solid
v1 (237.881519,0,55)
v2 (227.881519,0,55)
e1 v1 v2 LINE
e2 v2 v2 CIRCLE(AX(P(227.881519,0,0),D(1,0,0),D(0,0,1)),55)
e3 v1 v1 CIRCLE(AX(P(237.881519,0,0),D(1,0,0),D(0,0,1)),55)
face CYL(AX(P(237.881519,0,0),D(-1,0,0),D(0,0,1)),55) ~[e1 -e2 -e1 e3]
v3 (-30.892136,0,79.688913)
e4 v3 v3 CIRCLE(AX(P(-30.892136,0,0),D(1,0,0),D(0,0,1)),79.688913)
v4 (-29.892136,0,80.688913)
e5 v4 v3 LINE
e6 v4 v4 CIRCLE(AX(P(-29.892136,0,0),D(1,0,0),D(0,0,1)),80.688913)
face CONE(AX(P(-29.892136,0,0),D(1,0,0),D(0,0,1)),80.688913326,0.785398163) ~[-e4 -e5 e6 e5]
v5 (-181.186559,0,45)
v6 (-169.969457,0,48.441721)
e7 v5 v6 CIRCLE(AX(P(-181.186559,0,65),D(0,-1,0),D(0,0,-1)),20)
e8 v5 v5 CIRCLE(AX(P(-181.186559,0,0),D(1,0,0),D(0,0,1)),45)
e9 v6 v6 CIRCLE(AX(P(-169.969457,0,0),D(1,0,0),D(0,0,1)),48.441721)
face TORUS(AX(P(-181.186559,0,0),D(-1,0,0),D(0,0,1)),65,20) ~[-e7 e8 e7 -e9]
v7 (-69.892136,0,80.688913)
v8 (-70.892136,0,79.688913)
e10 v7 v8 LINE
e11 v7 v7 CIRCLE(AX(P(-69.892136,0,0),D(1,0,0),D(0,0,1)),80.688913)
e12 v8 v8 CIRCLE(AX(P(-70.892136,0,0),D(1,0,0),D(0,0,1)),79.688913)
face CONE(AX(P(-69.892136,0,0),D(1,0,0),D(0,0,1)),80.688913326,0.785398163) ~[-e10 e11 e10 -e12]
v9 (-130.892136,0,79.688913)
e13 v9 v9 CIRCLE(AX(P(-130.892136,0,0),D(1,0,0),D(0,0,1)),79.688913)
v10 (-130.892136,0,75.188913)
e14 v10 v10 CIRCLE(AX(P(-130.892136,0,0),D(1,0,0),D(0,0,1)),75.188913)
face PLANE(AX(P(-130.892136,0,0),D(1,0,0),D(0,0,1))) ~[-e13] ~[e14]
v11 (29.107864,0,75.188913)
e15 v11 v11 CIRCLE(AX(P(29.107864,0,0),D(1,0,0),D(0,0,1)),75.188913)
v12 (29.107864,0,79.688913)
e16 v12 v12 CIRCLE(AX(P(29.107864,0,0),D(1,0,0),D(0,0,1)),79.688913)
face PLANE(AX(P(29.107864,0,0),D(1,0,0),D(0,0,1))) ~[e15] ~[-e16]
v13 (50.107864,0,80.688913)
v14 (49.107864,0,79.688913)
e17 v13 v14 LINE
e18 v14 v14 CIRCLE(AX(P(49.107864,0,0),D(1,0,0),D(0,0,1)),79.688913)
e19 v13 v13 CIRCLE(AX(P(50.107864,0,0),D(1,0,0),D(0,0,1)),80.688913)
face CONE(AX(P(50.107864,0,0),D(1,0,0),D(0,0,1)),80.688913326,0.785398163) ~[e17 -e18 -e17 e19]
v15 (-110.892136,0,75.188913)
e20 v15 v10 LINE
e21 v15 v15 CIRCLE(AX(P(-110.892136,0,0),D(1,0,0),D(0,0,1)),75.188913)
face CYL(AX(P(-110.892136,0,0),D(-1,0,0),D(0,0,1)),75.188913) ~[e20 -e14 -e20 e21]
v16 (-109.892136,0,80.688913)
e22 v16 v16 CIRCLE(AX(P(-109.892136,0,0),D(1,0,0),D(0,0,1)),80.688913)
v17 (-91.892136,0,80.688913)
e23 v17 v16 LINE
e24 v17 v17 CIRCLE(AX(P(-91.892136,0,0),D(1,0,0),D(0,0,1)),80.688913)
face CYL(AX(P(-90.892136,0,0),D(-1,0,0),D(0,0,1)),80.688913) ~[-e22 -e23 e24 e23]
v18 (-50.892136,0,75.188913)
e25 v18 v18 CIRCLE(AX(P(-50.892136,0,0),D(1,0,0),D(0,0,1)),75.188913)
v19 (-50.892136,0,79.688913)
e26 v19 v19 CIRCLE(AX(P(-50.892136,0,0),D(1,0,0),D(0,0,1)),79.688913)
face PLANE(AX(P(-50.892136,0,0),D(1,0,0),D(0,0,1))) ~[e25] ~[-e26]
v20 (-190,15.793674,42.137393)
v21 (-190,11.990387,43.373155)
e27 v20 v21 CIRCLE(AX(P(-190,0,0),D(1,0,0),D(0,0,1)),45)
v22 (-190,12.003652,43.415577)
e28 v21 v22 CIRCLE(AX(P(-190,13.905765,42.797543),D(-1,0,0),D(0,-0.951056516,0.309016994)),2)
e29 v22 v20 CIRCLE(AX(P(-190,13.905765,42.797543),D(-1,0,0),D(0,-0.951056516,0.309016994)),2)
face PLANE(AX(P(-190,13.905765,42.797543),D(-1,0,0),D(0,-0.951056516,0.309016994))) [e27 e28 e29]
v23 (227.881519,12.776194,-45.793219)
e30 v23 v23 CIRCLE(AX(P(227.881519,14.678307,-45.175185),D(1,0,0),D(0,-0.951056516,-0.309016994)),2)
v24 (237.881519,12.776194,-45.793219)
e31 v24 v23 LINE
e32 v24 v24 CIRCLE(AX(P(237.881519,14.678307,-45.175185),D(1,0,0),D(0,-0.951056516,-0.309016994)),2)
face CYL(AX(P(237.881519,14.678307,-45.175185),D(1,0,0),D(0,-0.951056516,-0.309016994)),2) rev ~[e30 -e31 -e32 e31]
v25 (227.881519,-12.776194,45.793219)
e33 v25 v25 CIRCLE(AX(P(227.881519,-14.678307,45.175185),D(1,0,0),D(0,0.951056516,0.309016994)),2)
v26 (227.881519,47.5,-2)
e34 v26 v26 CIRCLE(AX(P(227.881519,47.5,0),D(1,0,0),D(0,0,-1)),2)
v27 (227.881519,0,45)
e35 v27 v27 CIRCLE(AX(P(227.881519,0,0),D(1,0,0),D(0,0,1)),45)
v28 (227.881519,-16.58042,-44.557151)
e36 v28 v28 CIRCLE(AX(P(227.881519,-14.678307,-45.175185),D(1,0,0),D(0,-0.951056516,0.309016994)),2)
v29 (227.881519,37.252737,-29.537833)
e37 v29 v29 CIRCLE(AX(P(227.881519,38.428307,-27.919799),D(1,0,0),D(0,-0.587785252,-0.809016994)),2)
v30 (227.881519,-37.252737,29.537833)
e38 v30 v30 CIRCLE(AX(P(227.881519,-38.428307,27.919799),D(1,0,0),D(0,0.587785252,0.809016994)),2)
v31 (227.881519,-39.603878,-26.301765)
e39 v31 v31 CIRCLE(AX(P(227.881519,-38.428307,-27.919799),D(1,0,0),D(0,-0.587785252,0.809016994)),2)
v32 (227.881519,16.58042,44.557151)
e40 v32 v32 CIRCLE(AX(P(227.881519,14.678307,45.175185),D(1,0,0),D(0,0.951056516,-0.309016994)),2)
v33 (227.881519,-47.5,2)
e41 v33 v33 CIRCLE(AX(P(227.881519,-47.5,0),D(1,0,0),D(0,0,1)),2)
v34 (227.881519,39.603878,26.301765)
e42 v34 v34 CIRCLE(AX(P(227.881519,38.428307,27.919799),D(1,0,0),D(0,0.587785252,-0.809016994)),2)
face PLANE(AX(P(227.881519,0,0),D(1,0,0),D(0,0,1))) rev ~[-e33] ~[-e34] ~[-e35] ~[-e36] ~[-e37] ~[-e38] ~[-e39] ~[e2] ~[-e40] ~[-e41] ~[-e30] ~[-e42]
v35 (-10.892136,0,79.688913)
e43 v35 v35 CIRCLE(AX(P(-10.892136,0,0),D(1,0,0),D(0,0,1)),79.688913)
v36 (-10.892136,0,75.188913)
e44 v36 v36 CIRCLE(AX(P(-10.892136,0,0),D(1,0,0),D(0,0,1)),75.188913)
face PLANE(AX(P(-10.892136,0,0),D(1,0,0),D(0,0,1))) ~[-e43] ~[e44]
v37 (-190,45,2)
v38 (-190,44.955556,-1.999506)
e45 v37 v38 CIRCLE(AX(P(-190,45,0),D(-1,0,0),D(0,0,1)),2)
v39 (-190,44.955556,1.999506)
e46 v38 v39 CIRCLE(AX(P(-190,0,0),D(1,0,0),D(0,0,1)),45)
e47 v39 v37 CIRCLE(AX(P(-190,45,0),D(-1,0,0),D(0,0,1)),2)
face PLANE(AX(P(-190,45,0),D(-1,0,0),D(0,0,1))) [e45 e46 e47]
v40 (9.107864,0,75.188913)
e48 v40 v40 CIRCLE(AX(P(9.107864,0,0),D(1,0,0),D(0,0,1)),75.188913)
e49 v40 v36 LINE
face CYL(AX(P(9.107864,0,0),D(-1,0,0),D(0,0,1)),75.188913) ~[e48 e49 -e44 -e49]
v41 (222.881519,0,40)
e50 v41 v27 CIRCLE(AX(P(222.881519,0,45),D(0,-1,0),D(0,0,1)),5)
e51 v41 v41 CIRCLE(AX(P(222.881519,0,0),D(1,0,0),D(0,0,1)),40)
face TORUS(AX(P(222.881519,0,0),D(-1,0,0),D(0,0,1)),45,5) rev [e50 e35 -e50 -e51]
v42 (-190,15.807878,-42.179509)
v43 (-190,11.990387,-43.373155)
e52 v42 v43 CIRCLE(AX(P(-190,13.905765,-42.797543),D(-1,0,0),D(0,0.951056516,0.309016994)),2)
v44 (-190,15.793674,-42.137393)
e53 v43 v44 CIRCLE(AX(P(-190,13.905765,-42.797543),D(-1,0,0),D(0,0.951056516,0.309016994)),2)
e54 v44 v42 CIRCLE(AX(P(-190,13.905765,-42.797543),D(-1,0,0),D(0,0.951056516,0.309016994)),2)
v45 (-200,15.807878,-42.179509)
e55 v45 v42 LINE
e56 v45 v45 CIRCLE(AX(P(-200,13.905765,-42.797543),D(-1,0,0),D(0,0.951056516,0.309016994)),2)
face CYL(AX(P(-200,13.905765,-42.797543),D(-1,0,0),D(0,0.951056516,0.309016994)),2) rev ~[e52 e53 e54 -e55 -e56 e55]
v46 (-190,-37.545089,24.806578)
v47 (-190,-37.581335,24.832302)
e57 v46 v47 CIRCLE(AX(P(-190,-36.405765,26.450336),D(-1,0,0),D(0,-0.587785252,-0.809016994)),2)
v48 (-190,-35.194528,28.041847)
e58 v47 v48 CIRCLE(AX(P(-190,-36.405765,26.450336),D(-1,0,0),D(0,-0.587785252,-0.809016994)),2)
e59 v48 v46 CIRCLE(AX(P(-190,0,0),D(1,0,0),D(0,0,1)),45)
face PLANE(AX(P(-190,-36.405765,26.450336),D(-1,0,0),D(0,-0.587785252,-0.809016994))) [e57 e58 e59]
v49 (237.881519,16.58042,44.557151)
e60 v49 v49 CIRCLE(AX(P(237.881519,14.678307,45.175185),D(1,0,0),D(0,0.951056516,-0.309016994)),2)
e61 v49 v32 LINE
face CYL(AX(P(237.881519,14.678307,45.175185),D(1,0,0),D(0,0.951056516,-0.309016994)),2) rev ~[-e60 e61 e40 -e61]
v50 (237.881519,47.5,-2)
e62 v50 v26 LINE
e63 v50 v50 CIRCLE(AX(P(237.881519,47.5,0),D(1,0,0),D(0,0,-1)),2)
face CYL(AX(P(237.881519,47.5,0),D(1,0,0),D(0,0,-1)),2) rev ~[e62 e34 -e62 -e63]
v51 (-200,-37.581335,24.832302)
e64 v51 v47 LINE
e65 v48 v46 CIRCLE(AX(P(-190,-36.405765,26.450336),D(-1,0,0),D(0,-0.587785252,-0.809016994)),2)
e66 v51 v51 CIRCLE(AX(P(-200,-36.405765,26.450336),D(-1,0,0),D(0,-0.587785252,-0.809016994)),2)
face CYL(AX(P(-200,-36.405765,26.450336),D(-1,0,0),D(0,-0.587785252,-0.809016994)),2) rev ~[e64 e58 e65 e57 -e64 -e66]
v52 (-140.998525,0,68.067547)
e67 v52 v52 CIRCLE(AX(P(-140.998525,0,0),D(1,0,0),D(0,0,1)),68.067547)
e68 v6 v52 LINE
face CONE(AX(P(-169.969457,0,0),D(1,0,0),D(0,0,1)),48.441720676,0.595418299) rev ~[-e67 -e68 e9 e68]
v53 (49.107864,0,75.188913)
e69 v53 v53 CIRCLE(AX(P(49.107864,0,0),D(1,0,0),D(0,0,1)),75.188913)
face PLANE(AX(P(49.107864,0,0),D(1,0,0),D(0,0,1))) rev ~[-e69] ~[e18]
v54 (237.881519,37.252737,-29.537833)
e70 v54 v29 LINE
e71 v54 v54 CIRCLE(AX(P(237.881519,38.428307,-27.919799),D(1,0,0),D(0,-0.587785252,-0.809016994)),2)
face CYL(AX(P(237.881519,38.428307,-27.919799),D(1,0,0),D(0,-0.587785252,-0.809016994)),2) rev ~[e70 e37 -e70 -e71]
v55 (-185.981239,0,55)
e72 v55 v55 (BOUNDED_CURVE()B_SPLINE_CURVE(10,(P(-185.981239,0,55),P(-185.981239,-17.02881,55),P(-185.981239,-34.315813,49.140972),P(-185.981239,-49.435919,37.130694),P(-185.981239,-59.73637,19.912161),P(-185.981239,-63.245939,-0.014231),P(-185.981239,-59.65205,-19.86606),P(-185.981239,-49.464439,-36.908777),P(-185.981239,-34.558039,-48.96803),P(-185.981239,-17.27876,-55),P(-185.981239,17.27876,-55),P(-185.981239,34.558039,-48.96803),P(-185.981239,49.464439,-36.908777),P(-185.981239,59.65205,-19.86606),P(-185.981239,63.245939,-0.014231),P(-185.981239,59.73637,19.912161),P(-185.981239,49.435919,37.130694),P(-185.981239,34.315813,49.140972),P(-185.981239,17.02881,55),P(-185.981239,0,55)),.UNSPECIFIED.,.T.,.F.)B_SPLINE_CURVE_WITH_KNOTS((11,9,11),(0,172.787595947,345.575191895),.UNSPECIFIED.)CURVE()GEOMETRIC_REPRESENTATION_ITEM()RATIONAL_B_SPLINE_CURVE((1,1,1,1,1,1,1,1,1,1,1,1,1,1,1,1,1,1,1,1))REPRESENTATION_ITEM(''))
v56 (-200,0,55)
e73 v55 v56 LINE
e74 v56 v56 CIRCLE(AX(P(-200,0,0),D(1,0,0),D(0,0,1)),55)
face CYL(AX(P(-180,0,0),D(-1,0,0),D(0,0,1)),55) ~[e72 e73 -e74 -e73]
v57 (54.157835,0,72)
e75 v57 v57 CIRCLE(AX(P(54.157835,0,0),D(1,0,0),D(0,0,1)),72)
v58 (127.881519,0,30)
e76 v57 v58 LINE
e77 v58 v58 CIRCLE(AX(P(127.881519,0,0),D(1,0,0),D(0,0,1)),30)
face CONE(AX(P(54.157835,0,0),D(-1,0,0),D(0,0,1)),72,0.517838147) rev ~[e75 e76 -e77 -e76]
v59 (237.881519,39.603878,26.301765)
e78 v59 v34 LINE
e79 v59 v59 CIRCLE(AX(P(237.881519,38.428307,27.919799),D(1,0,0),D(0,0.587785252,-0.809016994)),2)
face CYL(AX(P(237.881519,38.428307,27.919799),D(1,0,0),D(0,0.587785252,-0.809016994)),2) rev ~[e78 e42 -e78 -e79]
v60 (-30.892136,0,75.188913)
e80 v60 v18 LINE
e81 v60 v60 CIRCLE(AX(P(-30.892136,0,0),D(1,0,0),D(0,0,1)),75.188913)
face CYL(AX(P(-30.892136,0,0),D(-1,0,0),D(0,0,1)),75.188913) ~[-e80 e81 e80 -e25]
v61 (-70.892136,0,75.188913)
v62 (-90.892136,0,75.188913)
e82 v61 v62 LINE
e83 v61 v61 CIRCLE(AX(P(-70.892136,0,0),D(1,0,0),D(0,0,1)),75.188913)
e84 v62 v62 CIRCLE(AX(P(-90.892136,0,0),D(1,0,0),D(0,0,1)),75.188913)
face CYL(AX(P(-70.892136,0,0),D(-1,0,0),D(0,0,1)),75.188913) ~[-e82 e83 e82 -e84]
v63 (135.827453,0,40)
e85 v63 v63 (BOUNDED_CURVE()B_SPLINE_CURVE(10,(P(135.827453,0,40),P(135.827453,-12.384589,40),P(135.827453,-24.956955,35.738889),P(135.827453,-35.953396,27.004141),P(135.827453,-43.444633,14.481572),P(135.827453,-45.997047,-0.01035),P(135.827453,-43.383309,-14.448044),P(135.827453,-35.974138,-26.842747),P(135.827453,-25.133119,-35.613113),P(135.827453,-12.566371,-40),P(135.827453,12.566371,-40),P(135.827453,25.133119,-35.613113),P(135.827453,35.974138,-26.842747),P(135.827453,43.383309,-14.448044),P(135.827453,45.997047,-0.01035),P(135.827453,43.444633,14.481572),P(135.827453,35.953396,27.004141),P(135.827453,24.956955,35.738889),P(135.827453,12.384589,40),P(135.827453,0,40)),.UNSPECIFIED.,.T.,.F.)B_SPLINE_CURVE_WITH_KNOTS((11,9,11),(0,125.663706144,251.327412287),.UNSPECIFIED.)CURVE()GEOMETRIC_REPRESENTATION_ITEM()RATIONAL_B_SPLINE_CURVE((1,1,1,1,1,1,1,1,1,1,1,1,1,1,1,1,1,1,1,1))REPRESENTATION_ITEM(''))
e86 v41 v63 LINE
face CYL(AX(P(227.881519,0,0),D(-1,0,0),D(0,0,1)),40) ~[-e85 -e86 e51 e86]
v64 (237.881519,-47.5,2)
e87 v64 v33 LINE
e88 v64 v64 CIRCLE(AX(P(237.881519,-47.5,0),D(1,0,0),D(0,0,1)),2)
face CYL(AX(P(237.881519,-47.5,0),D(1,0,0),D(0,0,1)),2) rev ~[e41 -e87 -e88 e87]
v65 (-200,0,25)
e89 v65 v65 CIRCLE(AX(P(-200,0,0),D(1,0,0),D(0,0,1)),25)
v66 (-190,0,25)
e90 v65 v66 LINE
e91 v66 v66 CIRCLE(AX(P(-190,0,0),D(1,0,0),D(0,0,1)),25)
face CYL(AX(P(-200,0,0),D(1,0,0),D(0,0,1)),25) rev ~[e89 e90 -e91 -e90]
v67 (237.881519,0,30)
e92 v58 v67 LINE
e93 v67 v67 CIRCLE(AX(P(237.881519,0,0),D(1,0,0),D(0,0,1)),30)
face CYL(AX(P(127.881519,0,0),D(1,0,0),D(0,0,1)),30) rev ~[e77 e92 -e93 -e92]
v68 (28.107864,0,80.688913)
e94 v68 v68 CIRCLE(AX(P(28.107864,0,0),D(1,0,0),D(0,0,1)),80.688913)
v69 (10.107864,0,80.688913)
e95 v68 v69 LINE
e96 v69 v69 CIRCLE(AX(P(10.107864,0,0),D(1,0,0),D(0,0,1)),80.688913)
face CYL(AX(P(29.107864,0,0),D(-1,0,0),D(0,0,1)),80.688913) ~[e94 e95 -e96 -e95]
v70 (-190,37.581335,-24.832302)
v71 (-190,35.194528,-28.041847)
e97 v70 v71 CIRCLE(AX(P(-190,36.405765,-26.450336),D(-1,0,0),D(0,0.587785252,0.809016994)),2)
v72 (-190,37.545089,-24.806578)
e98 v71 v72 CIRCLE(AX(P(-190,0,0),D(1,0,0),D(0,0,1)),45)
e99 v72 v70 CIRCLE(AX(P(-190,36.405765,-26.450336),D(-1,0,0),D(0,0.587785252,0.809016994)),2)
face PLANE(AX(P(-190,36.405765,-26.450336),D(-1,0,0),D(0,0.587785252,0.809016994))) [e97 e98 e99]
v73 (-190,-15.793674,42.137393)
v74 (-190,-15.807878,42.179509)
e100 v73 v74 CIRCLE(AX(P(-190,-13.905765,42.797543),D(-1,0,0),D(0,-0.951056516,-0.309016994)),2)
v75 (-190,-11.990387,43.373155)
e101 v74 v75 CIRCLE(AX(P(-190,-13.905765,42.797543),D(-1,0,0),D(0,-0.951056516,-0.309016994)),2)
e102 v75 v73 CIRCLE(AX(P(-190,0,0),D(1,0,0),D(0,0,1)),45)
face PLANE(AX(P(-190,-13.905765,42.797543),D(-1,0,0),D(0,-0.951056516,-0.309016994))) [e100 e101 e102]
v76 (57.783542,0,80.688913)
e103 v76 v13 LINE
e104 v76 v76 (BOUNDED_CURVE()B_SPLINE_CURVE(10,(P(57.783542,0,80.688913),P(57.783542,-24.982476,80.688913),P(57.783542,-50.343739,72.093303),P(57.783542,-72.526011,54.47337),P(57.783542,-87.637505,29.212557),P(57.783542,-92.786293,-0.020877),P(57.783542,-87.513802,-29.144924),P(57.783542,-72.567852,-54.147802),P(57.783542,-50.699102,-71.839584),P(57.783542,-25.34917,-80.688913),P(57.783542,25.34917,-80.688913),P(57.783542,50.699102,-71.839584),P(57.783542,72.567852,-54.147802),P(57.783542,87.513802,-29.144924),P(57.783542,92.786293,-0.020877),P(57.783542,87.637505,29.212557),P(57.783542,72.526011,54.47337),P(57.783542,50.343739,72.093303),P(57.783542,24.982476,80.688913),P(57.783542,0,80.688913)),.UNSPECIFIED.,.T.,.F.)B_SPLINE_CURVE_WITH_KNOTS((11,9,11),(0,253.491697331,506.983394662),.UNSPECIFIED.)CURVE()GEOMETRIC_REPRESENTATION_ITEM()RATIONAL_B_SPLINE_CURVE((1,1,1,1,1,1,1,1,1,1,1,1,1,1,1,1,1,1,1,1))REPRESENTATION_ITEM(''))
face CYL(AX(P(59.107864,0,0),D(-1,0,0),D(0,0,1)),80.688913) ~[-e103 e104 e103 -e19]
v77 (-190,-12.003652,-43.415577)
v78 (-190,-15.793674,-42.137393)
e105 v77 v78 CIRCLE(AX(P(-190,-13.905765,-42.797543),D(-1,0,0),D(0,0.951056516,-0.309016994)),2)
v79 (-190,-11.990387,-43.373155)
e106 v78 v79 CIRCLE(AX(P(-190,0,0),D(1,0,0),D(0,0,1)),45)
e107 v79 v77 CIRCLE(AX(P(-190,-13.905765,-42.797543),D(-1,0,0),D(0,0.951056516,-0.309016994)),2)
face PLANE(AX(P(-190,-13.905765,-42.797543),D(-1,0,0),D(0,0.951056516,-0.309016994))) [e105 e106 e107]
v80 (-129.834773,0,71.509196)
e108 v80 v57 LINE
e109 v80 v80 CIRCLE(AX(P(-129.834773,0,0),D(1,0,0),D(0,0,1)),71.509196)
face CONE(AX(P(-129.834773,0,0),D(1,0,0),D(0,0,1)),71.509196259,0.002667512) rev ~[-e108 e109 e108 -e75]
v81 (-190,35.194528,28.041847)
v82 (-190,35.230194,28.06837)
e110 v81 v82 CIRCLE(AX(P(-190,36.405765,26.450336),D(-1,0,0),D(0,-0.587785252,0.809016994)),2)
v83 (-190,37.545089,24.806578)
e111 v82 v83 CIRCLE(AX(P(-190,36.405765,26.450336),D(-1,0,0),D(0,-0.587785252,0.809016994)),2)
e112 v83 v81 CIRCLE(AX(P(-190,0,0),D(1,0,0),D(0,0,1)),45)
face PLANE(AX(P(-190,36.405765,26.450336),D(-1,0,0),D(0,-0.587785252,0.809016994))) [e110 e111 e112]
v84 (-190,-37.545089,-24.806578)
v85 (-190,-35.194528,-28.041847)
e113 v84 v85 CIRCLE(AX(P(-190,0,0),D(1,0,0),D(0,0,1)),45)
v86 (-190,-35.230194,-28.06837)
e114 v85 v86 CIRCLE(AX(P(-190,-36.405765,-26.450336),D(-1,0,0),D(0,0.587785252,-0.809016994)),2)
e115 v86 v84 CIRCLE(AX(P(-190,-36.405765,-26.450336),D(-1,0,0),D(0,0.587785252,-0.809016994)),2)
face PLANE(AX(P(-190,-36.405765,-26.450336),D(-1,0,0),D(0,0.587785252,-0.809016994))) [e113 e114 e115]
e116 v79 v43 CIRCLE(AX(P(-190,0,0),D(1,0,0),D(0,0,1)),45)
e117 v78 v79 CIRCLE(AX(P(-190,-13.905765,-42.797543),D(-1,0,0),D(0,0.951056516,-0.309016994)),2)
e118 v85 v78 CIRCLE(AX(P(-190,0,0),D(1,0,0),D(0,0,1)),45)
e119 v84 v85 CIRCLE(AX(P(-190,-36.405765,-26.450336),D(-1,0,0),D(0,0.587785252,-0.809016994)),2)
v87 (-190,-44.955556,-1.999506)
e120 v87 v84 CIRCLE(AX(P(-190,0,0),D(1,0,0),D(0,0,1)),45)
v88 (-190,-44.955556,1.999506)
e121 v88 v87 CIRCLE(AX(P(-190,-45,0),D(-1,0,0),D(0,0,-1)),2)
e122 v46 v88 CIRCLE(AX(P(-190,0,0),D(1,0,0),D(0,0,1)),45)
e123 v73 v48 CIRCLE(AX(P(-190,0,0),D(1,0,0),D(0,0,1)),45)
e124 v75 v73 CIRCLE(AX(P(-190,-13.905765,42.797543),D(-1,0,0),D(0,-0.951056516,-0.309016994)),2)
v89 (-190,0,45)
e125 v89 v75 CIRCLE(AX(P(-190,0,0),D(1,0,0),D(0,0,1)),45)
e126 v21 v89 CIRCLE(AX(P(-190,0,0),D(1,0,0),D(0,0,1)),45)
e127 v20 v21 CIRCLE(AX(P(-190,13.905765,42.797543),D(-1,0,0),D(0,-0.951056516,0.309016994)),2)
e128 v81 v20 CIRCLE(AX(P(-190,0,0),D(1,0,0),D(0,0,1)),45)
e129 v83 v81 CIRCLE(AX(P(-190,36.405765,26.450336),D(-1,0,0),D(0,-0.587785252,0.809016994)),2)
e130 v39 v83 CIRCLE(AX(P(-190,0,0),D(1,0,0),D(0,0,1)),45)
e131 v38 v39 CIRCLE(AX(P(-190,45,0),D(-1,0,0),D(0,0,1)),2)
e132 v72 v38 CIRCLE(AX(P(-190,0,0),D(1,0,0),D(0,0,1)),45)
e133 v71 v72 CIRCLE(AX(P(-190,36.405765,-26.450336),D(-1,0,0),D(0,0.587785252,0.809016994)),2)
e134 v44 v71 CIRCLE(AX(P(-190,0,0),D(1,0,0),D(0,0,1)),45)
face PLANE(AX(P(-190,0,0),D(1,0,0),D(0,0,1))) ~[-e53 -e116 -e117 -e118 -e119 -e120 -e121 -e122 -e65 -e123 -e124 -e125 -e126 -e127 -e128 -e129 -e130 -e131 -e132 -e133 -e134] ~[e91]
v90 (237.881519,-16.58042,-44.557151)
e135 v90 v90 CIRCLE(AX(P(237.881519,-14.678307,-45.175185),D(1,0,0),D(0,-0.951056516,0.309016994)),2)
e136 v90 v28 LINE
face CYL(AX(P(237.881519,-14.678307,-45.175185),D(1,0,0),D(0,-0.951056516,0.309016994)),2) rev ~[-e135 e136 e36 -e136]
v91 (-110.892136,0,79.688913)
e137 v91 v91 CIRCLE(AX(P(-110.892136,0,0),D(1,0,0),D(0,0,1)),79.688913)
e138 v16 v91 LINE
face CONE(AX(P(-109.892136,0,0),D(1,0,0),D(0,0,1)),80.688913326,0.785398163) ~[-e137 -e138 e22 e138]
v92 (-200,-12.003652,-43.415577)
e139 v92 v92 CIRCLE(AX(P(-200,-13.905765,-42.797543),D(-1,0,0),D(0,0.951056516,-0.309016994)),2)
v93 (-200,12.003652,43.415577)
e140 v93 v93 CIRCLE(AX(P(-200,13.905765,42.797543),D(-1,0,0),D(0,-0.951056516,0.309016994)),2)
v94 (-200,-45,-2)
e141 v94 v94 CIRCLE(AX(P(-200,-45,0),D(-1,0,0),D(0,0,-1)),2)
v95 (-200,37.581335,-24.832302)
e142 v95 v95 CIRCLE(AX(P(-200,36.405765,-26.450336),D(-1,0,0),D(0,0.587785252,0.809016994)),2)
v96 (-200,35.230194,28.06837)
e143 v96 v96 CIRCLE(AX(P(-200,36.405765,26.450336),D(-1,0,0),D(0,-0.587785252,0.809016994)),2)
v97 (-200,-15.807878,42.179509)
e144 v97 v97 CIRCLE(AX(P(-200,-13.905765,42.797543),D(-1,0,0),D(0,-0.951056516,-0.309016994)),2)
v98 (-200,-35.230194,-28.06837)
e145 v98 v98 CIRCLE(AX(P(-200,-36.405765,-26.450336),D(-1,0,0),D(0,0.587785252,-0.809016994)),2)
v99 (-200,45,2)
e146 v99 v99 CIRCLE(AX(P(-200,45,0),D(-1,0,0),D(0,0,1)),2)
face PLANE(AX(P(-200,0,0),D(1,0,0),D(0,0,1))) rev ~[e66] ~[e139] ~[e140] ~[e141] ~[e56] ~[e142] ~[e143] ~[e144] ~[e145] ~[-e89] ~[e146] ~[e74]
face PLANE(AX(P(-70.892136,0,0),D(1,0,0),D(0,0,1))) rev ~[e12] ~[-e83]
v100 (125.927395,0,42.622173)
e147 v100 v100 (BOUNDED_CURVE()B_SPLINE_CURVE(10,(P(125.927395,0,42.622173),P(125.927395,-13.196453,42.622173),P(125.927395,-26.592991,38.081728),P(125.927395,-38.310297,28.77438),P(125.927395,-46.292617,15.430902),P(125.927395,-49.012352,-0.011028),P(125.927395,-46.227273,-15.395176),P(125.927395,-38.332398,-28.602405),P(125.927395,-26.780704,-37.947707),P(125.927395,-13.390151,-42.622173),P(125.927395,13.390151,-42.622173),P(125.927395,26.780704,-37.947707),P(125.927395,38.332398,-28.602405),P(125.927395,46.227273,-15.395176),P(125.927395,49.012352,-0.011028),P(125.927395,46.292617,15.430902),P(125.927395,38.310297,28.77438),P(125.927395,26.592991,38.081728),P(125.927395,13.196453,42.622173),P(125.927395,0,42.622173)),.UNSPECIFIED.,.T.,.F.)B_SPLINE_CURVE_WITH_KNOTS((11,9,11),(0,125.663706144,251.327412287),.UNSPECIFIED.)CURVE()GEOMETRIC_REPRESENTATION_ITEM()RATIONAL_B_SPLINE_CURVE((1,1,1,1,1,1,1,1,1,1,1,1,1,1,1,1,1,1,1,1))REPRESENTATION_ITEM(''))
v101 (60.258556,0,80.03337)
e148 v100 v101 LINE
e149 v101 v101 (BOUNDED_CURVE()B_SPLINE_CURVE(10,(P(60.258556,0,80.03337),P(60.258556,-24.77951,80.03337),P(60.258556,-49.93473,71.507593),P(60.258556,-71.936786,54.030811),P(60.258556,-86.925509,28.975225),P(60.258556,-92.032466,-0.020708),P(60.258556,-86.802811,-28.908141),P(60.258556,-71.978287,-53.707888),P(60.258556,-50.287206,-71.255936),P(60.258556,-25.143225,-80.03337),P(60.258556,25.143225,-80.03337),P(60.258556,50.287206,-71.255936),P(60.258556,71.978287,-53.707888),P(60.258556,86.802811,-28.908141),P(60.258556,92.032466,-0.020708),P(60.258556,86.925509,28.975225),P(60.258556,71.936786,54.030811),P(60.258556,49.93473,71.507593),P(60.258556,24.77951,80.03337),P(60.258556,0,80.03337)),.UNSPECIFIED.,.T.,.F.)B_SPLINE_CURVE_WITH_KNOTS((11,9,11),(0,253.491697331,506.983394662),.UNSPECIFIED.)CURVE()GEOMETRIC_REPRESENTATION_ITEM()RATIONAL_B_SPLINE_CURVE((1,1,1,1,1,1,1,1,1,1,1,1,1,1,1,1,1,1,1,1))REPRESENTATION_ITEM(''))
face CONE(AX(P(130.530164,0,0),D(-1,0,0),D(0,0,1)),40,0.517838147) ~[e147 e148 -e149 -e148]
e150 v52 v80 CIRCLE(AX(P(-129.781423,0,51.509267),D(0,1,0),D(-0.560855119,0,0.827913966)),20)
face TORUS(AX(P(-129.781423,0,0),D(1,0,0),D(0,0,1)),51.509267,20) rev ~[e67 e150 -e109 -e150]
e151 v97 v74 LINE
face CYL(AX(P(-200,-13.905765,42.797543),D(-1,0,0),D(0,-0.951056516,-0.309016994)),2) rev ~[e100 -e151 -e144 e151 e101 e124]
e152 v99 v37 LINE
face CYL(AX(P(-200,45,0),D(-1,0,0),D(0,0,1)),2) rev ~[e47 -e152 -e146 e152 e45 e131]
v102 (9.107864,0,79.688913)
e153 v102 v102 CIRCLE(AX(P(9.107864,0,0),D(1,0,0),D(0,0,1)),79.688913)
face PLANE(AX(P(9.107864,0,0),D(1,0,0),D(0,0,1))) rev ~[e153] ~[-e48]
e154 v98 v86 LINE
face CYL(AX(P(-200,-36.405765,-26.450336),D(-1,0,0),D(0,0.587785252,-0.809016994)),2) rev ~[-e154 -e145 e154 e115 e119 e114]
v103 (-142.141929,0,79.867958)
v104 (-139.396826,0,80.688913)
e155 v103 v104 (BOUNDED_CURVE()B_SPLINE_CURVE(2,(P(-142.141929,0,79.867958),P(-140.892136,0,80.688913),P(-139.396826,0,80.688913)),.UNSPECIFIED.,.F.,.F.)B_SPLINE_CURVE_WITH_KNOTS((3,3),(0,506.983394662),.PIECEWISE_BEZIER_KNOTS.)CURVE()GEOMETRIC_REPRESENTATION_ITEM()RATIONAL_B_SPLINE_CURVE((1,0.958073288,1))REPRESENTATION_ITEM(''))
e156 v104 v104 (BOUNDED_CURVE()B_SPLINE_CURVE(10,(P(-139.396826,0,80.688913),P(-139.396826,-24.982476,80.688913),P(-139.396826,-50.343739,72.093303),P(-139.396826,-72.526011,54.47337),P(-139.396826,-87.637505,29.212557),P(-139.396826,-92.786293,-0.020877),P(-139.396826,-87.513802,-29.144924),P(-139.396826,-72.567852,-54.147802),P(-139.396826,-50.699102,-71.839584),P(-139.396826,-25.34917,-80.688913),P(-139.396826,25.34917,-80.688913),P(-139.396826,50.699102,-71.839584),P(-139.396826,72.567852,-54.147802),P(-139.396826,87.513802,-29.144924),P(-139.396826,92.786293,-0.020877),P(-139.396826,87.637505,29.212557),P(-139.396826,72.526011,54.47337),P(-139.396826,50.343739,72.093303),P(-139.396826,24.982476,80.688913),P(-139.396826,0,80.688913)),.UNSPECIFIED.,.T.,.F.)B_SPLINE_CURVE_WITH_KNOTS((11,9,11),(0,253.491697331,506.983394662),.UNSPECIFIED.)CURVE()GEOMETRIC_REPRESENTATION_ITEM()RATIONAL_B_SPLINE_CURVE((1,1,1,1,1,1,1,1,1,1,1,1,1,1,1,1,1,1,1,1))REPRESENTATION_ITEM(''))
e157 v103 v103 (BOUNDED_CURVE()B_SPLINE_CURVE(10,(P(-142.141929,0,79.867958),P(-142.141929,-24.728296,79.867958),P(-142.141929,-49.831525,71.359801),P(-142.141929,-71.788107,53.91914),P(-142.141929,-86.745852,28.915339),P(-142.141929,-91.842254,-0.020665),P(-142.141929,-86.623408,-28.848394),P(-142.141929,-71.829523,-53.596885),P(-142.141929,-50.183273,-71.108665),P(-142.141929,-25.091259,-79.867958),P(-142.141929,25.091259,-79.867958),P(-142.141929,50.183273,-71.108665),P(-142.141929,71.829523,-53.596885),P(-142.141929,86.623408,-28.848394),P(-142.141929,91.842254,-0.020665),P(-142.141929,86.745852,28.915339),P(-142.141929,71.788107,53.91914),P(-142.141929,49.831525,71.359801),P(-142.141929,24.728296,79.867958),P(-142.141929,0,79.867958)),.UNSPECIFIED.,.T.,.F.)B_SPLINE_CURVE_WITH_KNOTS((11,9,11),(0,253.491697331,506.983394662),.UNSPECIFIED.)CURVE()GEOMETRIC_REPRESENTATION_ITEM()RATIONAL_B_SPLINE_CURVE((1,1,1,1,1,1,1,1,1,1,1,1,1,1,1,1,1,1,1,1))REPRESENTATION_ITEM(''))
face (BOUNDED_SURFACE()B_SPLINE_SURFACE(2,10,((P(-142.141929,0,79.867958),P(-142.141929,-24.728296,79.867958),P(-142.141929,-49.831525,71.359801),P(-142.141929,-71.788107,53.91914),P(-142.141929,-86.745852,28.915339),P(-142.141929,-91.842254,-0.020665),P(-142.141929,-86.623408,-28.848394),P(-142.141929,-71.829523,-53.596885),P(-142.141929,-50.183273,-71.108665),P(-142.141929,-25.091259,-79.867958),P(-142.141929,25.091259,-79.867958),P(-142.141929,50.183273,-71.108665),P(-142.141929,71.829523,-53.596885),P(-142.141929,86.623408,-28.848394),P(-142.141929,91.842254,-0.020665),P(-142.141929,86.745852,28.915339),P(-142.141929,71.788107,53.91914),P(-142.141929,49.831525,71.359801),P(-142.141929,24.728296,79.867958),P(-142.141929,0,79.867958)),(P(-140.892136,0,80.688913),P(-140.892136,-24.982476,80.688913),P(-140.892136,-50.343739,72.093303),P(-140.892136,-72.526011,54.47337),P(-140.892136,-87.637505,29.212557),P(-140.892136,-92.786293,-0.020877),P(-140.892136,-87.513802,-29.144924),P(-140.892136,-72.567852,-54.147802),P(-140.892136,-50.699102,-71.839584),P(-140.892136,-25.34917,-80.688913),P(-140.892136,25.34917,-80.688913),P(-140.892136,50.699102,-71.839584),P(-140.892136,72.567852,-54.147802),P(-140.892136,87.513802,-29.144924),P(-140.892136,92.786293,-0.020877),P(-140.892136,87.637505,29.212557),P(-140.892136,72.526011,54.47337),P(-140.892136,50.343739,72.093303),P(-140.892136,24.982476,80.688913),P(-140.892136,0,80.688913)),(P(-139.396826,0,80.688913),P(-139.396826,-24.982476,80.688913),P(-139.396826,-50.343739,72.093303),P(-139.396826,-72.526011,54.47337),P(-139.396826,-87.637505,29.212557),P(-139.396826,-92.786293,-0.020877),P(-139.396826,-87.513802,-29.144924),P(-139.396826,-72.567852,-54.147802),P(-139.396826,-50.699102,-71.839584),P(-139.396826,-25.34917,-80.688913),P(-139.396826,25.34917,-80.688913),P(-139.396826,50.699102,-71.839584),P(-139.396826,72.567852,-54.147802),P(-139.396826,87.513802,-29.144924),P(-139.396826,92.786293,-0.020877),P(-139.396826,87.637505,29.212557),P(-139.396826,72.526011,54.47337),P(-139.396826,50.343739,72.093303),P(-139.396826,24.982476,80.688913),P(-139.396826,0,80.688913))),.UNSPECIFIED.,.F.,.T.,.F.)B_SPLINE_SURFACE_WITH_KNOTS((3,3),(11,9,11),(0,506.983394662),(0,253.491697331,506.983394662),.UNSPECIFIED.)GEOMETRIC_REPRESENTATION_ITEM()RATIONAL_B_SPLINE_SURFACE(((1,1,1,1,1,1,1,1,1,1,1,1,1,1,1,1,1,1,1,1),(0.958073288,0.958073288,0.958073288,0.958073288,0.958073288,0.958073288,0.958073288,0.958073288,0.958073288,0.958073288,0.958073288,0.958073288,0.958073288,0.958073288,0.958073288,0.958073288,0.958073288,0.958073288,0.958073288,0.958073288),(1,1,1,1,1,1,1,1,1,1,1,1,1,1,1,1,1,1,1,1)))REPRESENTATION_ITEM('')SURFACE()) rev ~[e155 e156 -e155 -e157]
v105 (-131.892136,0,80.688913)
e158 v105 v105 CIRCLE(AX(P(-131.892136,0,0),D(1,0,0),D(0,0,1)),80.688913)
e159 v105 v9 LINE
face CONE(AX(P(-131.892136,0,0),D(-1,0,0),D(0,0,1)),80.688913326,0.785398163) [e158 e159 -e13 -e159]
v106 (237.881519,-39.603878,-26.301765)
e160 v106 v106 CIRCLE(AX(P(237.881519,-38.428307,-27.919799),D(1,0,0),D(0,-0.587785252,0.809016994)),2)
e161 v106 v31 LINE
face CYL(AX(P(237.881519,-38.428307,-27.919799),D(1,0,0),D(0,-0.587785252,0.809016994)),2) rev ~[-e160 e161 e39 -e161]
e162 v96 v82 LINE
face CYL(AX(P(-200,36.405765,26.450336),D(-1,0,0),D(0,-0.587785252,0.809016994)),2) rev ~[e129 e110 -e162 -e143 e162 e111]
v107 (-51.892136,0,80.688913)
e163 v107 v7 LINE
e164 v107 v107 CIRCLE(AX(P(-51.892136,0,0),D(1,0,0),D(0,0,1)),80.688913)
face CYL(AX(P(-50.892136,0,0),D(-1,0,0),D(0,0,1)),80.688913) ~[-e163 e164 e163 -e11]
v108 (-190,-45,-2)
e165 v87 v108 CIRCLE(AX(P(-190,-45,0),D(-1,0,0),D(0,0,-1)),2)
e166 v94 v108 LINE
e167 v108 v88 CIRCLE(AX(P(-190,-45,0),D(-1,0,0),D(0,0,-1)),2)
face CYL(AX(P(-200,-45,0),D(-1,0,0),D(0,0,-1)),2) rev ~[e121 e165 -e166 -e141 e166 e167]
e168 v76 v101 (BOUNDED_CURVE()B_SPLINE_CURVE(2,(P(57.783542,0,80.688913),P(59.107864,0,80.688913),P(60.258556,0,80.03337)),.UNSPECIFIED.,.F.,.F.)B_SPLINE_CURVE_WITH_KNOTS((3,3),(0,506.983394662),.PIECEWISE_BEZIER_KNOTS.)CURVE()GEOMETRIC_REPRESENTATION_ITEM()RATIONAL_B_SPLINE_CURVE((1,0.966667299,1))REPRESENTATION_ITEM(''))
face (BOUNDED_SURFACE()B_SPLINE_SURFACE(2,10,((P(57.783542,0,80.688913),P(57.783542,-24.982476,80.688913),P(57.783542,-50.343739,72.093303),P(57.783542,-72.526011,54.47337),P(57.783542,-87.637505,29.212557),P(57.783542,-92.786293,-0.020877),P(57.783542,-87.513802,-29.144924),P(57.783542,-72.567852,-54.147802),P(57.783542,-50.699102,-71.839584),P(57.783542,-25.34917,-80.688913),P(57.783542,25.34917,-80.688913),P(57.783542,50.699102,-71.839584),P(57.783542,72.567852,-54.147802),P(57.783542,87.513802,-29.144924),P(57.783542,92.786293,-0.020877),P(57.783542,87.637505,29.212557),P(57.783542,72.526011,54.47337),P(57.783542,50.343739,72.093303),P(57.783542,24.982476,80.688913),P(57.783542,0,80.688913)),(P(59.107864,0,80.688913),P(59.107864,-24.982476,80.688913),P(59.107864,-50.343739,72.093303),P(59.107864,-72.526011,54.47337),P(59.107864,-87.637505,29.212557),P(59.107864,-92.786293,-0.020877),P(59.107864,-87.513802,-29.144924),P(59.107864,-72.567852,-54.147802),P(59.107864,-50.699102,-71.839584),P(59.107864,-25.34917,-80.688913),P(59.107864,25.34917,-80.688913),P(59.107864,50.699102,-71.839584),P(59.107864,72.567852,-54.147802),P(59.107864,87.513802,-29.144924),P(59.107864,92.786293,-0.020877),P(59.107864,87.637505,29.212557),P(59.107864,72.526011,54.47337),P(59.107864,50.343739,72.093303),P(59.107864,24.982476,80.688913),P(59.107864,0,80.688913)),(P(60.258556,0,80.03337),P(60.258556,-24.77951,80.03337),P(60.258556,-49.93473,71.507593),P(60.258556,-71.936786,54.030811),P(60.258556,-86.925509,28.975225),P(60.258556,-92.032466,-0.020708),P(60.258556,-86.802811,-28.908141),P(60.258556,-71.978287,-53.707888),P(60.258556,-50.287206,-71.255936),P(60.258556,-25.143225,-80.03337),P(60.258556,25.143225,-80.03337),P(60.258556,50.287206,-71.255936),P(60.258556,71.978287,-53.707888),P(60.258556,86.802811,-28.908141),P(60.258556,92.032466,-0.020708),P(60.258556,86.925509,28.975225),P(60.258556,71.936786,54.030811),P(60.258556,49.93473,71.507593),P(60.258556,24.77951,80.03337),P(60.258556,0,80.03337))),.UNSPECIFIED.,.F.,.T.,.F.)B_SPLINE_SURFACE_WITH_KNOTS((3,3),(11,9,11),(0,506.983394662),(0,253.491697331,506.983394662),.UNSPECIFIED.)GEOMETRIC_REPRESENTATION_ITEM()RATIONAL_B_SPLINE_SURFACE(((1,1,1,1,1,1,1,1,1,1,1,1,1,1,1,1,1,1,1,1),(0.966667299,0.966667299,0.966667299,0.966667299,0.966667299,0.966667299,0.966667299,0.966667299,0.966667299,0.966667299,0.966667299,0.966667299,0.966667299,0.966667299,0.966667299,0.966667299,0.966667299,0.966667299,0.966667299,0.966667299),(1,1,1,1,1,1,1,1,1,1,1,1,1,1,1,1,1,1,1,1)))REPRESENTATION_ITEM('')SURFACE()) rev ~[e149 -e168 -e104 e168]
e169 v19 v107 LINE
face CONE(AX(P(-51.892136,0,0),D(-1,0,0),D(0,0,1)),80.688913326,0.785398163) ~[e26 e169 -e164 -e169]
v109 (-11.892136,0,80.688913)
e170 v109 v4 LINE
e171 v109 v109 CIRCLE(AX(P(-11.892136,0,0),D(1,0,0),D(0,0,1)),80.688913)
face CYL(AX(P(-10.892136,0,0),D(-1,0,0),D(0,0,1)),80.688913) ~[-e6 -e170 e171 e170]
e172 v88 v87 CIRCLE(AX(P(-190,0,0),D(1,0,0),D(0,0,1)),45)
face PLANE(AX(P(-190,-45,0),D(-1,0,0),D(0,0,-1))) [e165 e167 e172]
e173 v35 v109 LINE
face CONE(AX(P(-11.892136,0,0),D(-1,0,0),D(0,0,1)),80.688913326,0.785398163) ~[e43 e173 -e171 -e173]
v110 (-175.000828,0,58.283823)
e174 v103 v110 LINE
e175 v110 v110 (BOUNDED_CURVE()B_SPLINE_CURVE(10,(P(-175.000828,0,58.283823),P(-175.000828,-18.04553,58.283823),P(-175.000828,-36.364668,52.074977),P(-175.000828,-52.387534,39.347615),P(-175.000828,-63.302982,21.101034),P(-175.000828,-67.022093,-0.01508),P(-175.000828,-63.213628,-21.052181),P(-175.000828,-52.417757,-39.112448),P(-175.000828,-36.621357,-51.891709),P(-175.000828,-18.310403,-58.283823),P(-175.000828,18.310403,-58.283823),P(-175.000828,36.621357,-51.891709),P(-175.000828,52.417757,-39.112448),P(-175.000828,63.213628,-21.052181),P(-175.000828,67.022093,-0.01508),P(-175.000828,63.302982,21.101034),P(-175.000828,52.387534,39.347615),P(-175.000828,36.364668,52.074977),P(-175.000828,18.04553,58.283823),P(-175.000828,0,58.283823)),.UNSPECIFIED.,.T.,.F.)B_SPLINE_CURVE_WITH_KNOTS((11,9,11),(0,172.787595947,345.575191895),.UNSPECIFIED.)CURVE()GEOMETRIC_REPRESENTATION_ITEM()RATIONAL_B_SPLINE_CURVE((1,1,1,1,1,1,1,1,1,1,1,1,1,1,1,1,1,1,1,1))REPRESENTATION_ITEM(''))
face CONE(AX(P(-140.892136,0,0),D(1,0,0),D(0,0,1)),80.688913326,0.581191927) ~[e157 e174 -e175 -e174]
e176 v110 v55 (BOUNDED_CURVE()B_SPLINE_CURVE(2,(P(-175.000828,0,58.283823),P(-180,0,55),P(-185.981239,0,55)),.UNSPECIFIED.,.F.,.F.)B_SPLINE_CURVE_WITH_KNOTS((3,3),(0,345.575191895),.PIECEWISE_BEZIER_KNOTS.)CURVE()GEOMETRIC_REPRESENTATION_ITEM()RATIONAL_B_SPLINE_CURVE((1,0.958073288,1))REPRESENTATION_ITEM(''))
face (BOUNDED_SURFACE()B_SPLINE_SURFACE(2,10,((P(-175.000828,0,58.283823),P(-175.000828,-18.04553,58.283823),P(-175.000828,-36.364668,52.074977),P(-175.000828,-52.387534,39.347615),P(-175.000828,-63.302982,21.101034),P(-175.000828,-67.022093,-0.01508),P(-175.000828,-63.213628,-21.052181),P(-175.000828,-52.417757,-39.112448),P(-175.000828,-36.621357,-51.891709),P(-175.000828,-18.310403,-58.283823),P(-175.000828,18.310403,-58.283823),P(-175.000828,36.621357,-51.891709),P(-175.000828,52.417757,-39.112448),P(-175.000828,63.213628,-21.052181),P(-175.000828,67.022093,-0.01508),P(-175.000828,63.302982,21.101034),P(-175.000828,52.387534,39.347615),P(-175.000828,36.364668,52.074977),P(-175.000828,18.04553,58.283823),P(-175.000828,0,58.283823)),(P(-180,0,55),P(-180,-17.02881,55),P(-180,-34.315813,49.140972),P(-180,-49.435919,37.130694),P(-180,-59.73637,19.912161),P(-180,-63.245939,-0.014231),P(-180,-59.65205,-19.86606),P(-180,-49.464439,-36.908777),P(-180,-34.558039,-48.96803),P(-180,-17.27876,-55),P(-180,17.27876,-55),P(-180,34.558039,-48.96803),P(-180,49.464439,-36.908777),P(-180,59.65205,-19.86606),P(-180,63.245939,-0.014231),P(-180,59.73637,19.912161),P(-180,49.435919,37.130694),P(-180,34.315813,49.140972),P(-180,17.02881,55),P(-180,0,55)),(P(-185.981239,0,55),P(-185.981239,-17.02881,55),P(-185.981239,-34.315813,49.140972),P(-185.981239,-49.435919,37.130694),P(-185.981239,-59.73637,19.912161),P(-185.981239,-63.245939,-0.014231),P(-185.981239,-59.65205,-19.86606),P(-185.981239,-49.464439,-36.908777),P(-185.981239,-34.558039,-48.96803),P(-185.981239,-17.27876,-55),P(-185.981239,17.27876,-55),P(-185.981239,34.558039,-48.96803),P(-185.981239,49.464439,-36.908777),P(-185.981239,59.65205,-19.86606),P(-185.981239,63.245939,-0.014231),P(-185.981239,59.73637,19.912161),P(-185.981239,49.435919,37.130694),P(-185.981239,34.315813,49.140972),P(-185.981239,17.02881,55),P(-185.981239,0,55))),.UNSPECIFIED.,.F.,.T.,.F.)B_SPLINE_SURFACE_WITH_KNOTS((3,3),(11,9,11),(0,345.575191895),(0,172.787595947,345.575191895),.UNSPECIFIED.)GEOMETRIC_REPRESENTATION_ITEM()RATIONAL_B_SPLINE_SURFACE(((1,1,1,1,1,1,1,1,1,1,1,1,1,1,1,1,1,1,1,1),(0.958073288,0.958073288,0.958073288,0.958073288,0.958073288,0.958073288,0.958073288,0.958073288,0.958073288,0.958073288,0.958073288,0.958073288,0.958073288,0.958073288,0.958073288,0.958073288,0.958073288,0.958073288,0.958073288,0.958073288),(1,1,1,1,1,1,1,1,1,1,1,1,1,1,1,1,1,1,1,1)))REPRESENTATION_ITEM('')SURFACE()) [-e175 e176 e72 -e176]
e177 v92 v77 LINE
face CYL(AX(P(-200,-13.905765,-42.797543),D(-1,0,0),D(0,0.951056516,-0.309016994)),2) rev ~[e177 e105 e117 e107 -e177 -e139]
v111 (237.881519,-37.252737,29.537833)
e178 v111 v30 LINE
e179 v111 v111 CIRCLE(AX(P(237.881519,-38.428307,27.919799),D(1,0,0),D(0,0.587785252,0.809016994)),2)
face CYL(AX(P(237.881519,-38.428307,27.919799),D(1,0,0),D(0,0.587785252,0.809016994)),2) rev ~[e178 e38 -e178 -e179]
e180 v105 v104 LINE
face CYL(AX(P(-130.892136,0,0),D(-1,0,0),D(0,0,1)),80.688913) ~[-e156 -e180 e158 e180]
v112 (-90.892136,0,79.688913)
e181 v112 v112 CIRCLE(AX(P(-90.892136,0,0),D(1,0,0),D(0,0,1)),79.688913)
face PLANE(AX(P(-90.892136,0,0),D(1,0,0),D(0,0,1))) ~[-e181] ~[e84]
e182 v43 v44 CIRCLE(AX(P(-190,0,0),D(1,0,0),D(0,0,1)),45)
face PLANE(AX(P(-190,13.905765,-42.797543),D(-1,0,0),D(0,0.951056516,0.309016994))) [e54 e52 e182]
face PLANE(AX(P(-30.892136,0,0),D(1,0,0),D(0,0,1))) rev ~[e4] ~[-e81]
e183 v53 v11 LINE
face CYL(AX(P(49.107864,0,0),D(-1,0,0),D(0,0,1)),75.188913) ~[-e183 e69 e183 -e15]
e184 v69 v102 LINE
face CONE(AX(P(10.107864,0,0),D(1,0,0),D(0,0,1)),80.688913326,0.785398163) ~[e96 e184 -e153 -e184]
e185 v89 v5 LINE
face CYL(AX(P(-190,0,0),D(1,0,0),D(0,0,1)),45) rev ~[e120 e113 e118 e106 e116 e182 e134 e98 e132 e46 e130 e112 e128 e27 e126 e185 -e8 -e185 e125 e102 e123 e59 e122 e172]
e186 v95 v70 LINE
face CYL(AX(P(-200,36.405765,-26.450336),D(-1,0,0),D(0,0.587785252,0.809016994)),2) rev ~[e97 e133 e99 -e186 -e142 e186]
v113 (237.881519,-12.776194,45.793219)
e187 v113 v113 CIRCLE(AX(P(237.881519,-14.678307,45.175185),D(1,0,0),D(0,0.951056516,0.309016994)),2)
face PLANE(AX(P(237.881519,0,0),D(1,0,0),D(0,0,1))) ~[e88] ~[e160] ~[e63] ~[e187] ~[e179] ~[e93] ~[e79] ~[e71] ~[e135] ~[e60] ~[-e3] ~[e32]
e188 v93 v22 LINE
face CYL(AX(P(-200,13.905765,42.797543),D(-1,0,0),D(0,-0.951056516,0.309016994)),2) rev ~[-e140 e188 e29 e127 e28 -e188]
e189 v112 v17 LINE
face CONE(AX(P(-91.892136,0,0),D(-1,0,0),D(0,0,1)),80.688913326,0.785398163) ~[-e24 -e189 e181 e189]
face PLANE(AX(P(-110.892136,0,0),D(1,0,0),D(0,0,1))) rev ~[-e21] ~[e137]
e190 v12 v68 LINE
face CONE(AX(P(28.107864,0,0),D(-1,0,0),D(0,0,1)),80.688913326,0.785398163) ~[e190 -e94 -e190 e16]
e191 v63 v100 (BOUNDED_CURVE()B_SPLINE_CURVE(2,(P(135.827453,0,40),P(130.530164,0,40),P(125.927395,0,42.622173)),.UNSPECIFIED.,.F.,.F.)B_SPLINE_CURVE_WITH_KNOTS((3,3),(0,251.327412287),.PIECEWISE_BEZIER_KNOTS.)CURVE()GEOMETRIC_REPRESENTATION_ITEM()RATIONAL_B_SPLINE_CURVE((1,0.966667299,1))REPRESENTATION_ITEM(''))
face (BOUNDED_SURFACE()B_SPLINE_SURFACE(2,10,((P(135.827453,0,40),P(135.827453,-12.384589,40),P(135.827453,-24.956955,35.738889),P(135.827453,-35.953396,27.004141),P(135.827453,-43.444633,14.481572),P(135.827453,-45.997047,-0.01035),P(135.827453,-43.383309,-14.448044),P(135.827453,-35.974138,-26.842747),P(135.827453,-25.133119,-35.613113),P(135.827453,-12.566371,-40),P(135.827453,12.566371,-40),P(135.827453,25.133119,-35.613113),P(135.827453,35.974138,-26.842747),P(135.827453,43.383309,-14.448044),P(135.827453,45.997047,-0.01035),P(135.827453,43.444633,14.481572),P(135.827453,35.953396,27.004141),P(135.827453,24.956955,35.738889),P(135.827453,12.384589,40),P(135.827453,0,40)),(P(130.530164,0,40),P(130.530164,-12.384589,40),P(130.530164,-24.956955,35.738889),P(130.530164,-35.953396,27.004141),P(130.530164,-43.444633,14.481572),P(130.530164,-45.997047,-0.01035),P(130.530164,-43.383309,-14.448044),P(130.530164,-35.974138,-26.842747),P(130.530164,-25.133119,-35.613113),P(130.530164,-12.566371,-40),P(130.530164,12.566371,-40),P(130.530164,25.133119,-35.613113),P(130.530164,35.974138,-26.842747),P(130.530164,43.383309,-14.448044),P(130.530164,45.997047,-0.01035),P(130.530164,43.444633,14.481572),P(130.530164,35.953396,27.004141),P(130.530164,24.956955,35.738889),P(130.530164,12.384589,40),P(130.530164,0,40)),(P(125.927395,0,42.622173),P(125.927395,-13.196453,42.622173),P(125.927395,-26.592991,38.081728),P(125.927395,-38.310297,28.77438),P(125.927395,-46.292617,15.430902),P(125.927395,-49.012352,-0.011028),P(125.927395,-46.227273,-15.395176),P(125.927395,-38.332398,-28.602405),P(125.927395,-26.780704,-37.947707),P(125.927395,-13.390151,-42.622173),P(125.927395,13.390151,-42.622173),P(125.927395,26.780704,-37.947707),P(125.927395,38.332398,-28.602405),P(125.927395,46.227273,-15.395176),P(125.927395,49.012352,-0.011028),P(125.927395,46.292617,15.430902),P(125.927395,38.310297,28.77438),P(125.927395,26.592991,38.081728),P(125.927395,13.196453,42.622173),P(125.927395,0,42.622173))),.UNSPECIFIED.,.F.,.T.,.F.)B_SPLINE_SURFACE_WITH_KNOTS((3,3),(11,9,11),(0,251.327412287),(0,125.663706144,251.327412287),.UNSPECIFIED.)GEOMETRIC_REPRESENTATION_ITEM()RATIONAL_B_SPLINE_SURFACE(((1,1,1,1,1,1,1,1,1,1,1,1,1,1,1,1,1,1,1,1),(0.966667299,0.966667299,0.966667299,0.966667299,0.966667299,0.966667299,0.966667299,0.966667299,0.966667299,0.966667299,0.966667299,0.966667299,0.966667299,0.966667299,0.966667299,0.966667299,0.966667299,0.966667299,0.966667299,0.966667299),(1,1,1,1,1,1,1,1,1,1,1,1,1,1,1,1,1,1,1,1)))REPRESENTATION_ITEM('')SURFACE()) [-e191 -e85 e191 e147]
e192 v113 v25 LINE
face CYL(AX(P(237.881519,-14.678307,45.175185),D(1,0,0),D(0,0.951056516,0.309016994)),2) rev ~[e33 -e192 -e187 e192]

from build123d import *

# Parameters (mm, degrees)
FILLET1_R          = 20
CHAMFER1_SIZE      = 1
FILLET2_R          = 5
SKETCH3_R          = 2
CUT_EXTRUDE2_DEPTH = 10
SKETCH4_R          = 2
CUT_EXTRUDE3_DEPTH = 10
CIRPATTERN2_COUNT  = 10


with BuildPart() as part:
    # Sketch1 → Revolve1 (revolve)
    with BuildSketch(Plane.XY, mode=Mode.PRIVATE) as revolve1_sk:
        with BuildLine():
            Line((227.88151941, 55), (227.88151941, 40))
            Line((227.88151941, 40), (130.530163942, 40))
            Line((130.530163942, 40), (59.107864234, 80.688913326))
            Line((59.107864234, 80.688913326), (49.107864234, 80.688913326))
            Line((49.107864234, 80.688913326), (49.107864234, 75.188913326))
            Line((49.107864234, 75.188913326), (29.107864234, 75.188913326))
            Line((29.107864234, 75.188913326), (29.107864234, 80.688913326))
            Line((29.107864234, 80.688913326), (9.107864234, 80.688913326))
            Line((9.107864234, 80.688913326), (9.107864234, 75.188913326))
            Line((9.107864234, 75.188913326), (-10.892135766, 75.188913326))
            Line((-10.892135766, 75.188913326), (-10.892135766, 80.688913326))
            Line((-10.892135766, 80.688913326), (-30.892135766, 80.688913326))
            Line((-30.892135766, 80.688913326), (-30.892135766, 75.188913326))
            Line((-30.892135766, 75.188913326), (-50.892135766, 75.188913326))
            Line((-50.892135766, 75.188913326), (-50.892135766, 80.688913326))
            Line((-50.892135766, 80.688913326), (-70.892135766, 80.688913326))
            Line((-70.892135766, 80.688913326), (-70.892135766, 75.188913326))
            Line((-70.892135766, 75.188913326), (-90.892135766, 75.188913326))
            Line((-90.892135766, 75.188913326), (-90.892135766, 80.688913326))
            Line((-90.892135766, 80.688913326), (-110.892135766, 80.688913326))
            Line((-110.892135766, 80.688913326), (-110.892135766, 75.188913326))
            Line((-110.892135766, 75.188913326), (-130.892135766, 75.188913326))
            Line((-130.892135766, 75.188913326), (-130.892135766, 80.688913326))
            Line((-130.892135766, 80.688913326), (-140.892135766, 80.688913326))
            Line((-140.892135766, 80.688913326), (-180, 55))
            Line((-180, 55), (-200, 55))
            Line((-200, 55), (-200, 25))
            Line((-200, 25), (-190, 25))
            Line((-190, 25), (-190, 45))
            Line((-190, 45), (-181.186559263, 45))
            ThreePointArc((-181.186559263, 45), (-175.319941263, 45.879780513), (-169.969456882, 48.441720676))
            Line((-169.969456882, 48.441720676), (-140.998524917, 68.067546739))
            ThreePointArc((-140.998524917, 68.067546739), (-135.673537022, 70.62164526), (-129.834772722, 71.509196259))
            Line((-129.834772722, 71.509196259), (54.157835424, 72))
            Line((54.157835424, 72), (127.88151941, 30))
            Line((127.88151941, 30), (237.88151941, 30))
            Line((237.88151941, 30), (237.88151941, 55))
            Line((237.88151941, 55), (227.88151941, 55))
        make_face()
    revolve(revolve1_sk.sketch.rotate(Axis((-200, 0, 0), (1, 0, 0)), 90), axis=Axis((-200, 0, 0), (1, 0, 0)))

    # Fillet1
    fillet1_edges = [part.edges().sort_by_distance(p)[0] for p in [
        (-180, 0, -55),
        (130.530163942, 0, -40),
    ]]
    fillet(fillet1_edges, radius=FILLET1_R)

    # Chamfer1
    chamfer1_edges = [part.edges().sort_by_distance(p)[0] for p in [
        (-130.892135766, 0, -80.688913326),
        (-110.892135766, 0, -80.688913326),
        (-90.892135766, 0, -80.688913326),
        (-70.892135766, 0, -80.688913326),
        (-50.892135766, 0, -80.688913326),
        (-30.892135766, 0, -80.688913326),
        (-10.892135766, 0, -80.688913326),
        (9.107864234, 0, -80.688913326),
        (29.107864234, 0, -80.688913326),
        (49.107864234, 0, -80.688913326),
    ]]
    chamfer(chamfer1_edges, length=CHAMFER1_SIZE)

    # Fillet2
    fillet2_edges = [part.edges().sort_by_distance(p)[0] for p in [
        (-140.892135766, 0, -80.688913326),
        (59.107864234, 0, -80.688913326),
        (227.88151941, 0, -40),
    ]]
    fillet(fillet2_edges, radius=FILLET2_R)

    # Sketch3 → Cut-Extrude2 (cut)
    with BuildSketch(Plane.ZY.offset(200)):
        with Locations((0, 45)):
            Circle(SKETCH3_R)
    cut_extrude2 = extrude(amount=-CUT_EXTRUDE2_DEPTH, mode=Mode.SUBTRACT)

    # Sketch4 → Cut-Extrude3 (cut)
    with BuildSketch(Plane(origin=(237.88151941, 0, 0), x_dir=(0, 0, -1), z_dir=(1, 0, 0))):
        with Locations((0, 47.5)):
            Circle(SKETCH4_R)
    cut_extrude3 = extrude(amount=-CUT_EXTRUDE3_DEPTH, mode=Mode.SUBTRACT)

    # CirPattern2: Cut-Extrude2, Cut-Extrude3 ×10 about axis
    cirpattern2_axis = Axis((0, 0, 0), (1, 0, 0))
    add([cut_extrude2.rotate(cirpattern2_axis, i * 360 / CIRPATTERN2_COUNT) for i in range(1, CIRPATTERN2_COUNT)], mode=Mode.SUBTRACT)
    add([cut_extrude3.rotate(cirpattern2_axis, i * 360 / CIRPATTERN2_COUNT) for i in range(1, CIRPATTERN2_COUNT)], mode=Mode.SUBTRACT)


solid = part.part
